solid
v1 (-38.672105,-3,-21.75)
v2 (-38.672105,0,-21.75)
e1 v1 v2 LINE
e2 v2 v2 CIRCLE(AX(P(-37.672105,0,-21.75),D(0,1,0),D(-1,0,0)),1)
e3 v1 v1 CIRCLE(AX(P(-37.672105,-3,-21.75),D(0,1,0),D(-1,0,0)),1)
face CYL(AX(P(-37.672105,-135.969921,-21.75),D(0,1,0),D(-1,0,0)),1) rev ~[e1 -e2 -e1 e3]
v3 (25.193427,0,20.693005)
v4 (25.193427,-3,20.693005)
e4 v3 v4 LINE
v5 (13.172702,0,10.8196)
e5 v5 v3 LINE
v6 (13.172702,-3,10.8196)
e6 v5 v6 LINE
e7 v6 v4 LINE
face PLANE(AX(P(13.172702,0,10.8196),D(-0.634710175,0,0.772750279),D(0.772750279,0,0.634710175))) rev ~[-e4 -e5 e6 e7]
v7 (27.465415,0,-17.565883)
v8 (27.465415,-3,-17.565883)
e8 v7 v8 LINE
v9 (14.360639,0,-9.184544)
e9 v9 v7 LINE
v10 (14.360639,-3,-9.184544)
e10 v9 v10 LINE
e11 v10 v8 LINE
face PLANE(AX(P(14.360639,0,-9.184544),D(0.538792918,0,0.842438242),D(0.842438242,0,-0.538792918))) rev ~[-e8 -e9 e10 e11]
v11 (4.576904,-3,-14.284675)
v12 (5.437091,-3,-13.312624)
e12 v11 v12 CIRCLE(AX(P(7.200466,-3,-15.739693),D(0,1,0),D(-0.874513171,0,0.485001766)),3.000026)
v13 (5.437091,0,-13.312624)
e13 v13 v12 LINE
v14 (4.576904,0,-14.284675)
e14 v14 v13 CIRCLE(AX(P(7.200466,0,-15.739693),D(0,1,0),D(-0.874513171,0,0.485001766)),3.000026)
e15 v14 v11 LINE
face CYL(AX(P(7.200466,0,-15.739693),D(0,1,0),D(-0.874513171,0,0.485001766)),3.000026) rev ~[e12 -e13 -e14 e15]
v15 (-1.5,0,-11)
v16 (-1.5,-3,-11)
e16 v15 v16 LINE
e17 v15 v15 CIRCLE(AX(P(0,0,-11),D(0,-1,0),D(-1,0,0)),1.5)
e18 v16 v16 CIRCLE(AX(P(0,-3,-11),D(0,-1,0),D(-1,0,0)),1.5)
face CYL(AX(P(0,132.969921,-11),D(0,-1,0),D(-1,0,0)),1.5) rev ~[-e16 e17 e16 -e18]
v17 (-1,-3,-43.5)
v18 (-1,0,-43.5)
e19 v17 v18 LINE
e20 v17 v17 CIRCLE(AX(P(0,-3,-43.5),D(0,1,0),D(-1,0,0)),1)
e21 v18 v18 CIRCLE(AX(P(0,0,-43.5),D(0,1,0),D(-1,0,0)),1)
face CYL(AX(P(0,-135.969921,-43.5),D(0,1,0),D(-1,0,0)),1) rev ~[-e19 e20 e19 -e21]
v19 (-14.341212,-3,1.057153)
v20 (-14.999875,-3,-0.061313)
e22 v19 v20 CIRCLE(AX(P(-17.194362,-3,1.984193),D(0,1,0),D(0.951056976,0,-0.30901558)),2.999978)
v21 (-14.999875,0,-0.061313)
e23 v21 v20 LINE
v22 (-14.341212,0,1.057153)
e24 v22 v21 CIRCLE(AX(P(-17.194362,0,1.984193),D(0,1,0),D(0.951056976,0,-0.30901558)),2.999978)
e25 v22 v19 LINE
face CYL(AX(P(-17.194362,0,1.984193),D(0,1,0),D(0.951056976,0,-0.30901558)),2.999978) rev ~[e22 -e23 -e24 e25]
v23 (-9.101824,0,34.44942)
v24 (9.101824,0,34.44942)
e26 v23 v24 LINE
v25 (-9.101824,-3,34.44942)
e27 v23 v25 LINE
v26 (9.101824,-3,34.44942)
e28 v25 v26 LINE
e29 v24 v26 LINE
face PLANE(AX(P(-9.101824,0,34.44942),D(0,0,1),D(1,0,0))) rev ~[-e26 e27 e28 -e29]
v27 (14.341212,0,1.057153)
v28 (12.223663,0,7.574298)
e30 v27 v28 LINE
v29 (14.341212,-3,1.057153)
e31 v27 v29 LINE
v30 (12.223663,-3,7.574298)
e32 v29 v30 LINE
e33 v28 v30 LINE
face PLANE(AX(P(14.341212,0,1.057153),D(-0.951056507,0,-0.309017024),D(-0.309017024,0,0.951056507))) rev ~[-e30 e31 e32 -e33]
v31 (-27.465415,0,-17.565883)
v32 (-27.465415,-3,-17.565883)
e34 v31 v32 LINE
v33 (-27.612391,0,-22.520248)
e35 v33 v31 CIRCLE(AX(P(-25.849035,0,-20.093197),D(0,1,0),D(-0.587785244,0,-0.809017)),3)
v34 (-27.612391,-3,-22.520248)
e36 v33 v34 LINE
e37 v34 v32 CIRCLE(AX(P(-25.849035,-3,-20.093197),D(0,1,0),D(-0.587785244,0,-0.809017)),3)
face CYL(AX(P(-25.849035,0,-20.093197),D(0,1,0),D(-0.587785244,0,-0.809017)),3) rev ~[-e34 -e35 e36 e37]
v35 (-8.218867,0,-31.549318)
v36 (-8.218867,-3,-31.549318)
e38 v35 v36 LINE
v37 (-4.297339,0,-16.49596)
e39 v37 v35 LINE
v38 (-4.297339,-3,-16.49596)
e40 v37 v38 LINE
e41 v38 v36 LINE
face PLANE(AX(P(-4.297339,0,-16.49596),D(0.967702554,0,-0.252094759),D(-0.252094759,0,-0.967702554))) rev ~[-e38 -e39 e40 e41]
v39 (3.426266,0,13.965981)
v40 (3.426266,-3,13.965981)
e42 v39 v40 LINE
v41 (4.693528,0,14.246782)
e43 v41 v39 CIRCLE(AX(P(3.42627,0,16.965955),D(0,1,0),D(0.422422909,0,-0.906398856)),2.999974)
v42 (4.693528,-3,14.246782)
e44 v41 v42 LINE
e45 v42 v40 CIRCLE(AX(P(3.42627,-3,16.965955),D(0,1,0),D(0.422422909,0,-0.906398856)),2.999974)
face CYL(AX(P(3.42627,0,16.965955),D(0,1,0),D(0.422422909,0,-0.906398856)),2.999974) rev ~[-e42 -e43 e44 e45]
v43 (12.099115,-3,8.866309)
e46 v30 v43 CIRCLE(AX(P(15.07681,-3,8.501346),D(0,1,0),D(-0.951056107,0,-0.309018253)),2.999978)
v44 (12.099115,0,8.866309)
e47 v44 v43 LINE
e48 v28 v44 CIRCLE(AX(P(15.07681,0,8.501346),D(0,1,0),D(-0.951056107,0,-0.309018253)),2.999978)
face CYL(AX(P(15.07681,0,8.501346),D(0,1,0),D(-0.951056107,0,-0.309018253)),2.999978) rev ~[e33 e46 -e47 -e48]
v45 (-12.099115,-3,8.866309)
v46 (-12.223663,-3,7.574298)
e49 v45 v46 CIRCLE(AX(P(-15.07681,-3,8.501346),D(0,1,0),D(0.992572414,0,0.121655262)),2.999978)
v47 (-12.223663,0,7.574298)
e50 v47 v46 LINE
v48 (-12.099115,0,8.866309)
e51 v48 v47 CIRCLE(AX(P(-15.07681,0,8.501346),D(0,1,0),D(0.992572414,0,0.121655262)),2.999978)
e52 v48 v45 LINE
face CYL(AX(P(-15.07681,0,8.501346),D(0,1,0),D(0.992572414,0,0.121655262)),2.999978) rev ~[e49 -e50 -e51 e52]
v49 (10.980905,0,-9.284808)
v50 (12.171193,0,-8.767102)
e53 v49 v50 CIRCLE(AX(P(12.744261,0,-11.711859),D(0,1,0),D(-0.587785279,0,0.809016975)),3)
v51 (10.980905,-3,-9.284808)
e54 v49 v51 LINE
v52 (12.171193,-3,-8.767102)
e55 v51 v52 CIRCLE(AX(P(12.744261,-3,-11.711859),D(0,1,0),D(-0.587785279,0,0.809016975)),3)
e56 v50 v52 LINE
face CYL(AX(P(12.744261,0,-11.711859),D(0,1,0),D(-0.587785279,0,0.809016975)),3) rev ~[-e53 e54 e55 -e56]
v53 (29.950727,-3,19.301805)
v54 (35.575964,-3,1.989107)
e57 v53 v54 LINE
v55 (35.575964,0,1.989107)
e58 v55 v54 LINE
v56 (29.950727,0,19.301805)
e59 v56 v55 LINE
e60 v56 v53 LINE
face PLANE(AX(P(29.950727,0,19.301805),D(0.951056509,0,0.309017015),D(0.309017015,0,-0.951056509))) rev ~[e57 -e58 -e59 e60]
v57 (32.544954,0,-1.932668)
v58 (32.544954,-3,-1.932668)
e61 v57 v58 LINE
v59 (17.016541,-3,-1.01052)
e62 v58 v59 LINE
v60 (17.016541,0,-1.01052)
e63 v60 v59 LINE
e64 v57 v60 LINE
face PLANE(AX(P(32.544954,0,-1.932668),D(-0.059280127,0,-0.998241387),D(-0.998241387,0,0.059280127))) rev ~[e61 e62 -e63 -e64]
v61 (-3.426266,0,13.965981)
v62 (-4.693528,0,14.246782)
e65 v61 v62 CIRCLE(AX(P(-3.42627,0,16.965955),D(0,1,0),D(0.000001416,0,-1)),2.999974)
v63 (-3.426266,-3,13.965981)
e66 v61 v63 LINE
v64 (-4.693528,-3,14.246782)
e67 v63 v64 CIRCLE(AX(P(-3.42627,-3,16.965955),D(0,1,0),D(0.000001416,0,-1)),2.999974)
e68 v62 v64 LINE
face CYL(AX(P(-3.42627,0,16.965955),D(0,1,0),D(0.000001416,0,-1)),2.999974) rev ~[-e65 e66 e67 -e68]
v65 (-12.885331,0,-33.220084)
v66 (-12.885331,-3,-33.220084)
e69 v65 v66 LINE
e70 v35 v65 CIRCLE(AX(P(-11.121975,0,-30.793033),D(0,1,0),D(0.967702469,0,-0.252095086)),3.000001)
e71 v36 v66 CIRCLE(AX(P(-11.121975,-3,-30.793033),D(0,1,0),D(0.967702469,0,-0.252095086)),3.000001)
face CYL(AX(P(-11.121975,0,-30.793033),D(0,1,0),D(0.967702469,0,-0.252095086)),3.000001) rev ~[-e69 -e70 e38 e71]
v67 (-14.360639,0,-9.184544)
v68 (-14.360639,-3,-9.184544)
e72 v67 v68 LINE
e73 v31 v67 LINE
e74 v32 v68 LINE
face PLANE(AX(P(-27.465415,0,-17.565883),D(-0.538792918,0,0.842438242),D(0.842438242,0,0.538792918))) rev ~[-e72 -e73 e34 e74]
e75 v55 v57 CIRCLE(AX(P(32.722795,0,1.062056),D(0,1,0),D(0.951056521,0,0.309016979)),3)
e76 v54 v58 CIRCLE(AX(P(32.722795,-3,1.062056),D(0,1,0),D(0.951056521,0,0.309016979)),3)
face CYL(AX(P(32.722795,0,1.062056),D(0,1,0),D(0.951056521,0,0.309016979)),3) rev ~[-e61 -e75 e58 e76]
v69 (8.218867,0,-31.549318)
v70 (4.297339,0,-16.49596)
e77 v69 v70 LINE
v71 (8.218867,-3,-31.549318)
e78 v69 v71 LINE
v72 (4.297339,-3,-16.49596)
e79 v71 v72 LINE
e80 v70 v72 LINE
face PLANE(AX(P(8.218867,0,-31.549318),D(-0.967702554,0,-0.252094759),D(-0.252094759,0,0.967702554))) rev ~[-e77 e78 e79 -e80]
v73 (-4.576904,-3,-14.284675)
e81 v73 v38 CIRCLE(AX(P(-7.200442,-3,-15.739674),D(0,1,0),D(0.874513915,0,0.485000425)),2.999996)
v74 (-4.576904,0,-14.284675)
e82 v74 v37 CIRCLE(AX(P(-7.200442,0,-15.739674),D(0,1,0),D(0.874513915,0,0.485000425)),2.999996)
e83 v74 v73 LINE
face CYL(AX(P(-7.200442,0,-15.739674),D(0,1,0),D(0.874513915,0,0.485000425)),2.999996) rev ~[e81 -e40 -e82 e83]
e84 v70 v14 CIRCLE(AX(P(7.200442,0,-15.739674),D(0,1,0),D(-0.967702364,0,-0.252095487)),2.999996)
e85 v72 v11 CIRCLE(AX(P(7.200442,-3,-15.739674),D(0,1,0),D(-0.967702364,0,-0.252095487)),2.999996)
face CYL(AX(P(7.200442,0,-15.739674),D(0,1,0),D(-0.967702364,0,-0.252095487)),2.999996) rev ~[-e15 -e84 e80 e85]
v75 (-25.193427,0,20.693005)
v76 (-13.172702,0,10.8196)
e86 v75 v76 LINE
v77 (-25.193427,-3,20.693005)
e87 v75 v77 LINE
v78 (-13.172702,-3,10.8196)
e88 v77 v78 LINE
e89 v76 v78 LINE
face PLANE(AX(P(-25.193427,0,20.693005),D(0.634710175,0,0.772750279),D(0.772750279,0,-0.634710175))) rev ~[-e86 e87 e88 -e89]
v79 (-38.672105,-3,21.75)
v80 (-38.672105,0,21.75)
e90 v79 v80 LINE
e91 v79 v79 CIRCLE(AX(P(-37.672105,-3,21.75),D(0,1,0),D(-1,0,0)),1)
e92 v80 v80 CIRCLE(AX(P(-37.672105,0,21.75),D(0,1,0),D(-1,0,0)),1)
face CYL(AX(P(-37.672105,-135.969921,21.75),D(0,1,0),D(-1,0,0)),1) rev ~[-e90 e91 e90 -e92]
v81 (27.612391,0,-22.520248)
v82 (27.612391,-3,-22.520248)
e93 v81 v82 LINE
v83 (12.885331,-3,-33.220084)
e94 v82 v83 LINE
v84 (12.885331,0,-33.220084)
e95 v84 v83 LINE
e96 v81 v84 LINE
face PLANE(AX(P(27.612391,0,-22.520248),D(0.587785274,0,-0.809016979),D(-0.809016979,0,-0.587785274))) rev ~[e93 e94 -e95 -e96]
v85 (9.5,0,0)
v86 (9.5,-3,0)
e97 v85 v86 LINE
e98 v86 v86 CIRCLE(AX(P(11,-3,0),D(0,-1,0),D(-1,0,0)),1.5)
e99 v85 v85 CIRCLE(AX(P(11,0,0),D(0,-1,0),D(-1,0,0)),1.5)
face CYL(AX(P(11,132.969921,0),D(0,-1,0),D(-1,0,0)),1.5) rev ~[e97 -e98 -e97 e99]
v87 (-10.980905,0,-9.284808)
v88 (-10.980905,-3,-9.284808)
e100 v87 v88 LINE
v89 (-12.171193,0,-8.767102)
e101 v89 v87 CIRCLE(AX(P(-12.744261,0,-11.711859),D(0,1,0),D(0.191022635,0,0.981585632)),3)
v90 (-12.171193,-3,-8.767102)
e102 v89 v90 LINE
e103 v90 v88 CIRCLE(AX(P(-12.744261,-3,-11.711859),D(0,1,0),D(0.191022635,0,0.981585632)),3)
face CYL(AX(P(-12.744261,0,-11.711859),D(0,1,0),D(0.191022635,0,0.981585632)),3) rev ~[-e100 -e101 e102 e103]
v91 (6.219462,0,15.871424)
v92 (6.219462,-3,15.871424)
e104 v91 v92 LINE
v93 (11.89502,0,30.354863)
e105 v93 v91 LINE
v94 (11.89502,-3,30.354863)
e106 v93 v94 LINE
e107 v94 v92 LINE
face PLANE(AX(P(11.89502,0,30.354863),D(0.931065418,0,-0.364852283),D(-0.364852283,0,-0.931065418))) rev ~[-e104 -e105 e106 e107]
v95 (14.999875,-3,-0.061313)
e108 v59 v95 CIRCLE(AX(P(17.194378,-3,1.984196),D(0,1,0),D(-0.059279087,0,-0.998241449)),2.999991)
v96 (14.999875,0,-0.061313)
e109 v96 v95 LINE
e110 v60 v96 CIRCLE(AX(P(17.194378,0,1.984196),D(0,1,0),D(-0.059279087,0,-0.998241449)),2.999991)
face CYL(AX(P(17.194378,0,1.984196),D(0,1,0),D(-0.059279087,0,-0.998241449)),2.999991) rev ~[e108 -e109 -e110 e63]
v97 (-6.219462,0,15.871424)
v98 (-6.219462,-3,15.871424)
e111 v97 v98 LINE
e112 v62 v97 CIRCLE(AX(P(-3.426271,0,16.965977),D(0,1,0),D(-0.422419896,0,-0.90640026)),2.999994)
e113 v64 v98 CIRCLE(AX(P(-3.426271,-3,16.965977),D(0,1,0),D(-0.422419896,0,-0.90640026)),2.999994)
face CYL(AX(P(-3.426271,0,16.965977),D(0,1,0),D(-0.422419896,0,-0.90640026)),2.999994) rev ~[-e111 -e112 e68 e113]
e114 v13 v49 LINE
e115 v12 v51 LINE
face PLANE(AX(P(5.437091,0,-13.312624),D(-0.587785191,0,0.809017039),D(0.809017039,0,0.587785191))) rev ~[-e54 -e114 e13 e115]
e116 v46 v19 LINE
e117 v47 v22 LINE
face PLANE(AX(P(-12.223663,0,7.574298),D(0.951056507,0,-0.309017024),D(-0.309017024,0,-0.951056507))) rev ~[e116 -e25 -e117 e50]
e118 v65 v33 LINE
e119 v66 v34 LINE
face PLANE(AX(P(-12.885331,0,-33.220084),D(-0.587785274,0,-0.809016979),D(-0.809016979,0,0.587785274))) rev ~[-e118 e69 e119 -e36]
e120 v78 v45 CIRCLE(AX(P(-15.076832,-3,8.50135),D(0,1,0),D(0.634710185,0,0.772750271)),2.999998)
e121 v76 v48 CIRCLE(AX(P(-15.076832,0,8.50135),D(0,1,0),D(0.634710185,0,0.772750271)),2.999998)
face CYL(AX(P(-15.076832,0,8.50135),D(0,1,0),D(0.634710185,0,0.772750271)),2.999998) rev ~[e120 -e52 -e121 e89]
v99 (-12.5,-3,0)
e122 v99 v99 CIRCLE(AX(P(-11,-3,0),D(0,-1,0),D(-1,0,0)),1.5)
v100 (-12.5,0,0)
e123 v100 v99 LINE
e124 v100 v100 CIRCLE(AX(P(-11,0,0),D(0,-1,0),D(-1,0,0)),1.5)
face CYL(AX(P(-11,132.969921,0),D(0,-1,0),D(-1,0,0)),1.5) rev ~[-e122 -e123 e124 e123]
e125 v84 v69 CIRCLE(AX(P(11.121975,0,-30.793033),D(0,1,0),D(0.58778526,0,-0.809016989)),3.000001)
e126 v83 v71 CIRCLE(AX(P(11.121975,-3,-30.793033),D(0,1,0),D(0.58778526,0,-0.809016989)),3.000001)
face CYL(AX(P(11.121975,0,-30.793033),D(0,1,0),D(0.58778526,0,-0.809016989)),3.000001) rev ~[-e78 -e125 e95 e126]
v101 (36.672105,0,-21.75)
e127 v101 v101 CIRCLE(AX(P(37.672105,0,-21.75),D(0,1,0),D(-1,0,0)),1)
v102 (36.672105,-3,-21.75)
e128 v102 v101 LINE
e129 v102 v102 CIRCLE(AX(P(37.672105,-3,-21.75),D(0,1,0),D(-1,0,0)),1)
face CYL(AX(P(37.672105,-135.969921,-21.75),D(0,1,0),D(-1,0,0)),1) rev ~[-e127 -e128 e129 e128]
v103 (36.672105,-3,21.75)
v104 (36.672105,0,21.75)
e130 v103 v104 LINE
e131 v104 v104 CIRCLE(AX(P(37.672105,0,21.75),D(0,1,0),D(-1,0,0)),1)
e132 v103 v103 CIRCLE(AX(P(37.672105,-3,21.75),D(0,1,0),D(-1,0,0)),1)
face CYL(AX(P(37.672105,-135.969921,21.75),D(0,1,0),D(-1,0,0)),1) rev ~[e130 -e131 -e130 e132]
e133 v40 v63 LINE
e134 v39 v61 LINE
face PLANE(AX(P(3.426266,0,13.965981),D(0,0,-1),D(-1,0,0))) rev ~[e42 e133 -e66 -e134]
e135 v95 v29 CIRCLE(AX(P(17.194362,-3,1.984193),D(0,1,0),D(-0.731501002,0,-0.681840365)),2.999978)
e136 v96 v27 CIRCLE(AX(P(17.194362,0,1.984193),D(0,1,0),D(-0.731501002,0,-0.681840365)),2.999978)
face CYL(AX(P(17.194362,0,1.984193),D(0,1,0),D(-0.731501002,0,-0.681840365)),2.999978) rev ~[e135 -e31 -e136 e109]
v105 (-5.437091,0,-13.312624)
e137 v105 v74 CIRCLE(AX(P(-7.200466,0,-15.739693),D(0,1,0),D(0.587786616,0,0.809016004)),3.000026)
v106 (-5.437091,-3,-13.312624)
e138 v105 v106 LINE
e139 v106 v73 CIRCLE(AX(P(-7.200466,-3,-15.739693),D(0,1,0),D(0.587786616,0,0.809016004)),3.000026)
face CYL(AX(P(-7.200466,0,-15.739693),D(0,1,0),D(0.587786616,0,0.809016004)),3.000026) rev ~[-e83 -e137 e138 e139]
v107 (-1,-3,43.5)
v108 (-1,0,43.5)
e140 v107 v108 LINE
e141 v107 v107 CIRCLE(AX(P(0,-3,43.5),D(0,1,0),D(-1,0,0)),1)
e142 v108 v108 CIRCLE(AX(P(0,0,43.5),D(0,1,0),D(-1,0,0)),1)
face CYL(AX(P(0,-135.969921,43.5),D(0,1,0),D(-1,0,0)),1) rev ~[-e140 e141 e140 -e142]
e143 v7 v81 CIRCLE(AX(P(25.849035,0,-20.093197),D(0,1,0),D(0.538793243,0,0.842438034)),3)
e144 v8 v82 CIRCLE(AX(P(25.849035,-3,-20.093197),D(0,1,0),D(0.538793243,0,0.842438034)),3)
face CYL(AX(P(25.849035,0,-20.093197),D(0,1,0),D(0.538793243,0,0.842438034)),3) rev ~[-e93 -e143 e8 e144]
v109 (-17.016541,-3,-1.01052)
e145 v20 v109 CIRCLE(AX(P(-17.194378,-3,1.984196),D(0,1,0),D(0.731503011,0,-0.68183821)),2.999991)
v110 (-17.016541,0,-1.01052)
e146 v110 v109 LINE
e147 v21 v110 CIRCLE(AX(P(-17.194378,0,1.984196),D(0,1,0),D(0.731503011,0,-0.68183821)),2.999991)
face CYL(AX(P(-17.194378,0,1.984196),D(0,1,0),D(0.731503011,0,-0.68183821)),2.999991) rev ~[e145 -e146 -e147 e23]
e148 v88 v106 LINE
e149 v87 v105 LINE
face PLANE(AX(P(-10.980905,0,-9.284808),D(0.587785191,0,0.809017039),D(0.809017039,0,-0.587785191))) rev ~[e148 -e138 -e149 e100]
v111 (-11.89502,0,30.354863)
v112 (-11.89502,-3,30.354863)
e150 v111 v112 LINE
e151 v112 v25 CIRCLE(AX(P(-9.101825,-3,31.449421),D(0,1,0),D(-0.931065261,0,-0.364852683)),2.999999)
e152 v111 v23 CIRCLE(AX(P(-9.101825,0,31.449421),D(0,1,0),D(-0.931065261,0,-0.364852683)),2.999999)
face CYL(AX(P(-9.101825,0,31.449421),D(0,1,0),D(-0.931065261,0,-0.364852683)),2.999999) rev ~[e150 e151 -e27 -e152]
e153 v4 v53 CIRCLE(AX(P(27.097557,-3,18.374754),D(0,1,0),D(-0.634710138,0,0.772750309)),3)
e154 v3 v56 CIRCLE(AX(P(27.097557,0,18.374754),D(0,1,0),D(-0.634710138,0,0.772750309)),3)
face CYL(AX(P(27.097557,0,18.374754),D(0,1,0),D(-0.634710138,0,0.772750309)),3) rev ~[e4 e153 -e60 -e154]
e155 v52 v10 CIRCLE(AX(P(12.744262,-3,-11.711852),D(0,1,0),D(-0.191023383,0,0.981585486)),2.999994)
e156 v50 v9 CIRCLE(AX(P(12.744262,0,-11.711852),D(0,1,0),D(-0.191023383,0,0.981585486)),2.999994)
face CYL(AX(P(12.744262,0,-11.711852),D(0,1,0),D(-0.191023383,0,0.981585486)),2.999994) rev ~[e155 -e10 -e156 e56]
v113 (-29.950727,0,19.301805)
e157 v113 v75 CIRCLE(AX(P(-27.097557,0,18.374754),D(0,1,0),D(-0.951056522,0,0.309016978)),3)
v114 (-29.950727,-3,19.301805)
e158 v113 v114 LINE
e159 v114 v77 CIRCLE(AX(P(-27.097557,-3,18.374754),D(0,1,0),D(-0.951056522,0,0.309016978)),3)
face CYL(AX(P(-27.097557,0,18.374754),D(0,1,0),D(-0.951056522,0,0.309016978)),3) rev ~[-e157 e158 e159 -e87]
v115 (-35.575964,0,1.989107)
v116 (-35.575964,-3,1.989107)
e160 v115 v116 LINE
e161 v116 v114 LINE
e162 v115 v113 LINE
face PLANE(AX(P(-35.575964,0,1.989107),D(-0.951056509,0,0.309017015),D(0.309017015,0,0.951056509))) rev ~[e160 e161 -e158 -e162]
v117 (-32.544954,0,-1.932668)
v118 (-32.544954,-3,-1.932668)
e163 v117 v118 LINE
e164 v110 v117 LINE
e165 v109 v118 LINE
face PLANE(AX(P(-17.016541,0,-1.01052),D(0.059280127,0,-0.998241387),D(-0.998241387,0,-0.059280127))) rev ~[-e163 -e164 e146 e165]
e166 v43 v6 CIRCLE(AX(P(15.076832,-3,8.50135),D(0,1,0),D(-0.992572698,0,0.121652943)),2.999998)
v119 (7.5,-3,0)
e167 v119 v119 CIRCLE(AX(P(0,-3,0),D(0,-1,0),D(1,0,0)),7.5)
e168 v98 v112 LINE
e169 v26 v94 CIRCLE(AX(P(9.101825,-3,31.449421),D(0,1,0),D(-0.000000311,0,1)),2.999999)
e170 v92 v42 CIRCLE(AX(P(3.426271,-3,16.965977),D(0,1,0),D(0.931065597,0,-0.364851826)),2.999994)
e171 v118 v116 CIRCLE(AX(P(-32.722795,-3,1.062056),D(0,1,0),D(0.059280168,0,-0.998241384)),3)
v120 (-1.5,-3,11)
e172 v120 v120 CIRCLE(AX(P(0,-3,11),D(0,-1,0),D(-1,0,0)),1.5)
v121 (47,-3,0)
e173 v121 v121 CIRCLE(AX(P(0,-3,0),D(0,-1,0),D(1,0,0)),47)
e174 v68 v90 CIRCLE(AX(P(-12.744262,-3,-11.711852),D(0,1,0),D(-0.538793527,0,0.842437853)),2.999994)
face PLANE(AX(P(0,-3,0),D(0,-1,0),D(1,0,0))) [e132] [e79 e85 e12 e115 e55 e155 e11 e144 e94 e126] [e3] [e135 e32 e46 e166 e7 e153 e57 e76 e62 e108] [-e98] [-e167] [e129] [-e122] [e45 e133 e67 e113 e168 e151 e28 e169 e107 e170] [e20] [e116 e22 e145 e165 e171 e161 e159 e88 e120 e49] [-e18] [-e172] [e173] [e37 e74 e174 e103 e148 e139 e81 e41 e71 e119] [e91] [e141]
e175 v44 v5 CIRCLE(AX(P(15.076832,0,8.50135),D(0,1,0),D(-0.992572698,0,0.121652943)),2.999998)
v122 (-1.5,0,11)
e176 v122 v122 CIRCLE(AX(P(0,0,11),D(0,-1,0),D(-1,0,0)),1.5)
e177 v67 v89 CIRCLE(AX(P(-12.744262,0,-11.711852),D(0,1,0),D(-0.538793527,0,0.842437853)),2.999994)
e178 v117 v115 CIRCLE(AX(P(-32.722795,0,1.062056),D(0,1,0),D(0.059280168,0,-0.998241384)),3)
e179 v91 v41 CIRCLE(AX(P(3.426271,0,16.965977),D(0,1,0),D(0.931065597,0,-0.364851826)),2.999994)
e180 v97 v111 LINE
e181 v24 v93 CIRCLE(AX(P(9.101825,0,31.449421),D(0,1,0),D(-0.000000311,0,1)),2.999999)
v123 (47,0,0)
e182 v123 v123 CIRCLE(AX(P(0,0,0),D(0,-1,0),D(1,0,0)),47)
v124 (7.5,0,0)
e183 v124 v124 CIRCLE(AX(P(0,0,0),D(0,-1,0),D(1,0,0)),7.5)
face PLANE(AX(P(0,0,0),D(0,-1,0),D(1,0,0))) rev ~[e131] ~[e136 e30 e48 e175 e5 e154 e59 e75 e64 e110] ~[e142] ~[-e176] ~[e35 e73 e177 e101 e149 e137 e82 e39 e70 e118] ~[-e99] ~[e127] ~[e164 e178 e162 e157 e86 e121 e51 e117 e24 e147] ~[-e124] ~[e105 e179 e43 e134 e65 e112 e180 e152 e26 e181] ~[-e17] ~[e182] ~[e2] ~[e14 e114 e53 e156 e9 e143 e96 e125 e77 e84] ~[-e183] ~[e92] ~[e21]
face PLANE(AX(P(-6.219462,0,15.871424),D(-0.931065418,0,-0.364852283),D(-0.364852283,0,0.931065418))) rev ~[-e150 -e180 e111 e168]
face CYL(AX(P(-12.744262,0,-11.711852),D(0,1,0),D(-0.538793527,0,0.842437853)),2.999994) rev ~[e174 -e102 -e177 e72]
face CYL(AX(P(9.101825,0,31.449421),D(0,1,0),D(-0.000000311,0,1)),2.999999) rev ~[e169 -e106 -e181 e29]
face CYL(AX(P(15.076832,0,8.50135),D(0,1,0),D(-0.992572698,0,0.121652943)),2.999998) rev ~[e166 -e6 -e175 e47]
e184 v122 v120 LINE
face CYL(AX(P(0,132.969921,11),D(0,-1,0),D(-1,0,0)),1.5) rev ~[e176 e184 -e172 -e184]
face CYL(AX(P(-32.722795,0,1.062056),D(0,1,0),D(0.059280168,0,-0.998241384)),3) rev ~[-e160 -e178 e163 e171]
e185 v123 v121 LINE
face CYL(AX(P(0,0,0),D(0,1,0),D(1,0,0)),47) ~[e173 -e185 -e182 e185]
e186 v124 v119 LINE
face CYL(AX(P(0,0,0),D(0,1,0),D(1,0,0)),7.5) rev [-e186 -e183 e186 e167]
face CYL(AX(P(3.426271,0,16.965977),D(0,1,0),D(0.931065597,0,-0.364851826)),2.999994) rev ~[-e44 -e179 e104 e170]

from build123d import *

# Parameters (mm, degrees)
F0_R     = 47
F0_R_2   = 7.5
F1_DEPTH = 3
F3_D     = 2
F5_D     = 3


with BuildPart() as f1:
    # F0 (on Front) → F1 (new body)
    with BuildSketch(Plane.XZ):
        Circle(F0_R)
        with BuildLine():
            ThreePointArc((13.499536, 34.44942), (30.565363, 20.850865), (37, 0))
            ThreePointArc((37, 0), (1.097165, -36.983729), (-36.934931, -2.193365))
            ThreePointArc((-36.934931, -2.193365), (-35.189091, 11.433629), (-28.591759, 23.484278))
            ThreePointArc((-28.591759, 23.484278), (-21.748054, 29.933629), (-13.499536, 34.44942))
            ThreePointArc((-13.499536, 34.44942), (-6.869187, 36.356764), (0, 37))
            ThreePointArc((0, 37), (6.869187, 36.356764), (13.499536, 34.44942))
        make_face(mode=Mode.SUBTRACT)
        with BuildLine():
            ThreePointArc((-36.934931, -2.193365), (1.097165, -36.983729), (37, 0))
            ThreePointArc((37, 0), (30.565363, 20.850865), (13.499536, 34.44942))
            ThreePointArc((13.499536, 34.44942), (6.869187, 36.356764), (0, 37))
            ThreePointArc((0, 37), (-6.869187, 36.356764), (-13.499536, 34.44942))
            ThreePointArc((-13.499536, 34.44942), (-21.748054, 29.933629), (-28.591759, 23.484278))
            ThreePointArc((-28.591759, 23.484278), (-35.189091, 11.433629), (-36.934931, -2.193365))
        make_face()
        with BuildLine():
            ThreePointArc((4.693528, 14.246782), (5.085095, 14.111761), (5.472785, 13.965981))
            ThreePointArc((5.472785, 13.965981), (8.816779, 12.135255), (11.591254, 9.520653))
            ThreePointArc((11.591254, 9.520653), (11.849702, 9.196987), (12.099115, 8.866309))
            ThreePointArc((12.099115, 8.866309), (12.447774, 9.946358), (13.172702, 10.8196))
            Line((13.172702, 10.8196), (25.193427, 20.693005))
            ThreePointArc((25.193427, 20.693005), (27.939595, 21.254159), (29.950727, 19.301805))
            Line((29.950727, 19.301805), (35.575964, 1.989107))
            ThreePointArc((35.575964, 1.989107), (35.096489, -0.772494), (32.544954, -1.932668))
            Line((32.544954, -1.932668), (17.016541, -1.01052))
            ThreePointArc((17.016541, -1.01052), (15.916783, -0.730155), (14.999875, -0.061313))
            ThreePointArc((14.999875, -0.061313), (14.265848, -4.635255), (12.171193, -8.767102))
            ThreePointArc((12.171193, -8.767102), (13.306123, -8.764943), (14.360639, -9.184544))
            Line((14.360639, -9.184544), (27.465415, -17.565883))
            ThreePointArc((27.465415, -17.565883), (28.847716, -20.004238), (27.612391, -22.520248))
            Line((27.612391, -22.520248), (12.885331, -33.220084))
            ThreePointArc((12.885331, -33.220084), (10.110726, -33.617458), (8.218867, -31.549318))
            Line((8.218867, -31.549318), (4.297339, -16.49596))
            ThreePointArc((4.297339, -16.49596), (4.224138, -15.363391), (4.576904, -14.284675))
            ThreePointArc((4.576904, -14.284675), (0, -15), (-4.576904, -14.284675))
            ThreePointArc((-4.576904, -14.284675), (-4.224138, -15.363391), (-4.297339, -16.49596))
            Line((-4.297339, -16.49596), (-8.218867, -31.549318))
            ThreePointArc((-8.218867, -31.549318), (-10.110726, -33.617458), (-12.885331, -33.220084))
            Line((-12.885331, -33.220084), (-27.612391, -22.520248))
            ThreePointArc((-27.612391, -22.520248), (-28.847716, -20.004238), (-27.465415, -17.565883))
            Line((-27.465415, -17.565883), (-14.360639, -9.184544))
            ThreePointArc((-14.360639, -9.184544), (-13.306123, -8.764943), (-12.171193, -8.767102))
            ThreePointArc((-12.171193, -8.767102), (-14.132429, -5.02737), (-14.973621, -0.889202))
            ThreePointArc((-14.973621, -0.889202), (-14.992463, -0.475439), (-14.999875, -0.061313))
            ThreePointArc((-14.999875, -0.061313), (-15.916783, -0.730155), (-17.016541, -1.01052))
            Line((-17.016541, -1.01052), (-32.544954, -1.932668))
            ThreePointArc((-32.544954, -1.932668), (-35.096489, -0.772494), (-35.575964, 1.989107))
            Line((-35.575964, 1.989107), (-29.950727, 19.301805))
            ThreePointArc((-29.950727, 19.301805), (-27.939595, 21.254159), (-25.193427, 20.693005))
            Line((-25.193427, 20.693005), (-13.172702, 10.8196))
            ThreePointArc((-13.172702, 10.8196), (-12.447774, 9.946358), (-12.099115, 8.866309))
            ThreePointArc((-12.099115, 8.866309), (-9.148474, 11.887196), (-5.472785, 13.965981))
            ThreePointArc((-5.472785, 13.965981), (-5.085095, 14.111761), (-4.693528, 14.246782))
            ThreePointArc((-4.693528, 14.246782), (-5.612975, 14.91213), (-6.219462, 15.871424))
            Line((-6.219462, 15.871424), (-11.89502, 30.354863))
            ThreePointArc((-11.89502, 30.354863), (-11.580097, 33.140031), (-9.101824, 34.44942))
            Line((-9.101824, 34.44942), (9.101824, 34.44942))
            ThreePointArc((9.101824, 34.44942), (11.580097, 33.140031), (11.89502, 30.354863))
            Line((11.89502, 30.354863), (6.219462, 15.871424))
            ThreePointArc((6.219462, 15.871424), (5.612975, 14.91213), (4.693528, 14.246782))
        make_face(mode=Mode.SUBTRACT)
        with BuildLine():
            ThreePointArc((11.591254, 9.520653), (8.816779, 12.135255), (5.472785, 13.965981))
            ThreePointArc((5.472785, 13.965981), (5.085095, 14.111761), (4.693528, 14.246782))
            ThreePointArc((4.693528, 14.246782), (4.075266, 14.037022), (3.426266, 13.965981))
            Line((3.426266, 13.965981), (-3.426266, 13.965981))
            ThreePointArc((-3.426266, 13.965981), (-4.075266, 14.037022), (-4.693528, 14.246782))
            ThreePointArc((-4.693528, 14.246782), (-5.085095, 14.111761), (-5.472785, 13.965981))
            ThreePointArc((-5.472785, 13.965981), (-9.148474, 11.887196), (-12.099115, 8.866309))
            ThreePointArc((-12.099115, 8.866309), (-12.090675, 8.213486), (-12.223663, 7.574298))
            Line((-12.223663, 7.574298), (-14.341212, 1.057153))
            ThreePointArc((-14.341212, 1.057153), (-14.609328, 0.46187), (-14.999875, -0.061313))
            ThreePointArc((-14.999875, -0.061313), (-14.992463, -0.475439), (-14.973621, -0.889202))
            ThreePointArc((-14.973621, -0.889202), (-14.132429, -5.02737), (-12.171193, -8.767102))
            ThreePointArc((-12.171193, -8.767102), (-11.547714, -8.960809), (-10.980905, -9.284808))
            Line((-10.980905, -9.284808), (-5.437091, -13.312624))
            ThreePointArc((-5.437091, -13.312624), (-4.953796, -13.751571), (-4.576904, -14.284675))
            ThreePointArc((-4.576904, -14.284675), (0, -15), (4.576904, -14.284675))
            ThreePointArc((4.576904, -14.284675), (4.953796, -13.751571), (5.437091, -13.312624))
            Line((5.437091, -13.312624), (10.980905, -9.284808))
            ThreePointArc((10.980905, -9.284808), (11.547714, -8.960809), (12.171193, -8.767102))
            ThreePointArc((12.171193, -8.767102), (14.265848, -4.635255), (14.999875, -0.061313))
            ThreePointArc((14.999875, -0.061313), (14.609328, 0.46187), (14.341212, 1.057153))
            Line((14.341212, 1.057153), (12.223663, 7.574298))
            ThreePointArc((12.223663, 7.574298), (12.090675, 8.213486), (12.099115, 8.866309))
            ThreePointArc((12.099115, 8.866309), (11.849702, 9.196987), (11.591254, 9.520653))
        make_face()
        Circle(F0_R_2, mode=Mode.SUBTRACT)
    extrude(amount=F1_DEPTH)

    # F3 (through all)
    with Locations(Plane.XZ.offset(3)):
        with Locations((37.672105, 21.75), (37.672105, -21.75), (0, -43.5), (-37.672105, -21.75), (-37.672105, 21.75), (0, 43.5)):
            Hole(F3_D / 2)

    # F5 (through all)
    with Locations(Plane(origin=(0, 0, 0), x_dir=(1, 0, 0), z_dir=(0, 1, 0))):
        with Locations((0, 11), (11, 0), (0, -11), (-11, 0)):
            Hole(F5_D / 2)


solid = f1.part
